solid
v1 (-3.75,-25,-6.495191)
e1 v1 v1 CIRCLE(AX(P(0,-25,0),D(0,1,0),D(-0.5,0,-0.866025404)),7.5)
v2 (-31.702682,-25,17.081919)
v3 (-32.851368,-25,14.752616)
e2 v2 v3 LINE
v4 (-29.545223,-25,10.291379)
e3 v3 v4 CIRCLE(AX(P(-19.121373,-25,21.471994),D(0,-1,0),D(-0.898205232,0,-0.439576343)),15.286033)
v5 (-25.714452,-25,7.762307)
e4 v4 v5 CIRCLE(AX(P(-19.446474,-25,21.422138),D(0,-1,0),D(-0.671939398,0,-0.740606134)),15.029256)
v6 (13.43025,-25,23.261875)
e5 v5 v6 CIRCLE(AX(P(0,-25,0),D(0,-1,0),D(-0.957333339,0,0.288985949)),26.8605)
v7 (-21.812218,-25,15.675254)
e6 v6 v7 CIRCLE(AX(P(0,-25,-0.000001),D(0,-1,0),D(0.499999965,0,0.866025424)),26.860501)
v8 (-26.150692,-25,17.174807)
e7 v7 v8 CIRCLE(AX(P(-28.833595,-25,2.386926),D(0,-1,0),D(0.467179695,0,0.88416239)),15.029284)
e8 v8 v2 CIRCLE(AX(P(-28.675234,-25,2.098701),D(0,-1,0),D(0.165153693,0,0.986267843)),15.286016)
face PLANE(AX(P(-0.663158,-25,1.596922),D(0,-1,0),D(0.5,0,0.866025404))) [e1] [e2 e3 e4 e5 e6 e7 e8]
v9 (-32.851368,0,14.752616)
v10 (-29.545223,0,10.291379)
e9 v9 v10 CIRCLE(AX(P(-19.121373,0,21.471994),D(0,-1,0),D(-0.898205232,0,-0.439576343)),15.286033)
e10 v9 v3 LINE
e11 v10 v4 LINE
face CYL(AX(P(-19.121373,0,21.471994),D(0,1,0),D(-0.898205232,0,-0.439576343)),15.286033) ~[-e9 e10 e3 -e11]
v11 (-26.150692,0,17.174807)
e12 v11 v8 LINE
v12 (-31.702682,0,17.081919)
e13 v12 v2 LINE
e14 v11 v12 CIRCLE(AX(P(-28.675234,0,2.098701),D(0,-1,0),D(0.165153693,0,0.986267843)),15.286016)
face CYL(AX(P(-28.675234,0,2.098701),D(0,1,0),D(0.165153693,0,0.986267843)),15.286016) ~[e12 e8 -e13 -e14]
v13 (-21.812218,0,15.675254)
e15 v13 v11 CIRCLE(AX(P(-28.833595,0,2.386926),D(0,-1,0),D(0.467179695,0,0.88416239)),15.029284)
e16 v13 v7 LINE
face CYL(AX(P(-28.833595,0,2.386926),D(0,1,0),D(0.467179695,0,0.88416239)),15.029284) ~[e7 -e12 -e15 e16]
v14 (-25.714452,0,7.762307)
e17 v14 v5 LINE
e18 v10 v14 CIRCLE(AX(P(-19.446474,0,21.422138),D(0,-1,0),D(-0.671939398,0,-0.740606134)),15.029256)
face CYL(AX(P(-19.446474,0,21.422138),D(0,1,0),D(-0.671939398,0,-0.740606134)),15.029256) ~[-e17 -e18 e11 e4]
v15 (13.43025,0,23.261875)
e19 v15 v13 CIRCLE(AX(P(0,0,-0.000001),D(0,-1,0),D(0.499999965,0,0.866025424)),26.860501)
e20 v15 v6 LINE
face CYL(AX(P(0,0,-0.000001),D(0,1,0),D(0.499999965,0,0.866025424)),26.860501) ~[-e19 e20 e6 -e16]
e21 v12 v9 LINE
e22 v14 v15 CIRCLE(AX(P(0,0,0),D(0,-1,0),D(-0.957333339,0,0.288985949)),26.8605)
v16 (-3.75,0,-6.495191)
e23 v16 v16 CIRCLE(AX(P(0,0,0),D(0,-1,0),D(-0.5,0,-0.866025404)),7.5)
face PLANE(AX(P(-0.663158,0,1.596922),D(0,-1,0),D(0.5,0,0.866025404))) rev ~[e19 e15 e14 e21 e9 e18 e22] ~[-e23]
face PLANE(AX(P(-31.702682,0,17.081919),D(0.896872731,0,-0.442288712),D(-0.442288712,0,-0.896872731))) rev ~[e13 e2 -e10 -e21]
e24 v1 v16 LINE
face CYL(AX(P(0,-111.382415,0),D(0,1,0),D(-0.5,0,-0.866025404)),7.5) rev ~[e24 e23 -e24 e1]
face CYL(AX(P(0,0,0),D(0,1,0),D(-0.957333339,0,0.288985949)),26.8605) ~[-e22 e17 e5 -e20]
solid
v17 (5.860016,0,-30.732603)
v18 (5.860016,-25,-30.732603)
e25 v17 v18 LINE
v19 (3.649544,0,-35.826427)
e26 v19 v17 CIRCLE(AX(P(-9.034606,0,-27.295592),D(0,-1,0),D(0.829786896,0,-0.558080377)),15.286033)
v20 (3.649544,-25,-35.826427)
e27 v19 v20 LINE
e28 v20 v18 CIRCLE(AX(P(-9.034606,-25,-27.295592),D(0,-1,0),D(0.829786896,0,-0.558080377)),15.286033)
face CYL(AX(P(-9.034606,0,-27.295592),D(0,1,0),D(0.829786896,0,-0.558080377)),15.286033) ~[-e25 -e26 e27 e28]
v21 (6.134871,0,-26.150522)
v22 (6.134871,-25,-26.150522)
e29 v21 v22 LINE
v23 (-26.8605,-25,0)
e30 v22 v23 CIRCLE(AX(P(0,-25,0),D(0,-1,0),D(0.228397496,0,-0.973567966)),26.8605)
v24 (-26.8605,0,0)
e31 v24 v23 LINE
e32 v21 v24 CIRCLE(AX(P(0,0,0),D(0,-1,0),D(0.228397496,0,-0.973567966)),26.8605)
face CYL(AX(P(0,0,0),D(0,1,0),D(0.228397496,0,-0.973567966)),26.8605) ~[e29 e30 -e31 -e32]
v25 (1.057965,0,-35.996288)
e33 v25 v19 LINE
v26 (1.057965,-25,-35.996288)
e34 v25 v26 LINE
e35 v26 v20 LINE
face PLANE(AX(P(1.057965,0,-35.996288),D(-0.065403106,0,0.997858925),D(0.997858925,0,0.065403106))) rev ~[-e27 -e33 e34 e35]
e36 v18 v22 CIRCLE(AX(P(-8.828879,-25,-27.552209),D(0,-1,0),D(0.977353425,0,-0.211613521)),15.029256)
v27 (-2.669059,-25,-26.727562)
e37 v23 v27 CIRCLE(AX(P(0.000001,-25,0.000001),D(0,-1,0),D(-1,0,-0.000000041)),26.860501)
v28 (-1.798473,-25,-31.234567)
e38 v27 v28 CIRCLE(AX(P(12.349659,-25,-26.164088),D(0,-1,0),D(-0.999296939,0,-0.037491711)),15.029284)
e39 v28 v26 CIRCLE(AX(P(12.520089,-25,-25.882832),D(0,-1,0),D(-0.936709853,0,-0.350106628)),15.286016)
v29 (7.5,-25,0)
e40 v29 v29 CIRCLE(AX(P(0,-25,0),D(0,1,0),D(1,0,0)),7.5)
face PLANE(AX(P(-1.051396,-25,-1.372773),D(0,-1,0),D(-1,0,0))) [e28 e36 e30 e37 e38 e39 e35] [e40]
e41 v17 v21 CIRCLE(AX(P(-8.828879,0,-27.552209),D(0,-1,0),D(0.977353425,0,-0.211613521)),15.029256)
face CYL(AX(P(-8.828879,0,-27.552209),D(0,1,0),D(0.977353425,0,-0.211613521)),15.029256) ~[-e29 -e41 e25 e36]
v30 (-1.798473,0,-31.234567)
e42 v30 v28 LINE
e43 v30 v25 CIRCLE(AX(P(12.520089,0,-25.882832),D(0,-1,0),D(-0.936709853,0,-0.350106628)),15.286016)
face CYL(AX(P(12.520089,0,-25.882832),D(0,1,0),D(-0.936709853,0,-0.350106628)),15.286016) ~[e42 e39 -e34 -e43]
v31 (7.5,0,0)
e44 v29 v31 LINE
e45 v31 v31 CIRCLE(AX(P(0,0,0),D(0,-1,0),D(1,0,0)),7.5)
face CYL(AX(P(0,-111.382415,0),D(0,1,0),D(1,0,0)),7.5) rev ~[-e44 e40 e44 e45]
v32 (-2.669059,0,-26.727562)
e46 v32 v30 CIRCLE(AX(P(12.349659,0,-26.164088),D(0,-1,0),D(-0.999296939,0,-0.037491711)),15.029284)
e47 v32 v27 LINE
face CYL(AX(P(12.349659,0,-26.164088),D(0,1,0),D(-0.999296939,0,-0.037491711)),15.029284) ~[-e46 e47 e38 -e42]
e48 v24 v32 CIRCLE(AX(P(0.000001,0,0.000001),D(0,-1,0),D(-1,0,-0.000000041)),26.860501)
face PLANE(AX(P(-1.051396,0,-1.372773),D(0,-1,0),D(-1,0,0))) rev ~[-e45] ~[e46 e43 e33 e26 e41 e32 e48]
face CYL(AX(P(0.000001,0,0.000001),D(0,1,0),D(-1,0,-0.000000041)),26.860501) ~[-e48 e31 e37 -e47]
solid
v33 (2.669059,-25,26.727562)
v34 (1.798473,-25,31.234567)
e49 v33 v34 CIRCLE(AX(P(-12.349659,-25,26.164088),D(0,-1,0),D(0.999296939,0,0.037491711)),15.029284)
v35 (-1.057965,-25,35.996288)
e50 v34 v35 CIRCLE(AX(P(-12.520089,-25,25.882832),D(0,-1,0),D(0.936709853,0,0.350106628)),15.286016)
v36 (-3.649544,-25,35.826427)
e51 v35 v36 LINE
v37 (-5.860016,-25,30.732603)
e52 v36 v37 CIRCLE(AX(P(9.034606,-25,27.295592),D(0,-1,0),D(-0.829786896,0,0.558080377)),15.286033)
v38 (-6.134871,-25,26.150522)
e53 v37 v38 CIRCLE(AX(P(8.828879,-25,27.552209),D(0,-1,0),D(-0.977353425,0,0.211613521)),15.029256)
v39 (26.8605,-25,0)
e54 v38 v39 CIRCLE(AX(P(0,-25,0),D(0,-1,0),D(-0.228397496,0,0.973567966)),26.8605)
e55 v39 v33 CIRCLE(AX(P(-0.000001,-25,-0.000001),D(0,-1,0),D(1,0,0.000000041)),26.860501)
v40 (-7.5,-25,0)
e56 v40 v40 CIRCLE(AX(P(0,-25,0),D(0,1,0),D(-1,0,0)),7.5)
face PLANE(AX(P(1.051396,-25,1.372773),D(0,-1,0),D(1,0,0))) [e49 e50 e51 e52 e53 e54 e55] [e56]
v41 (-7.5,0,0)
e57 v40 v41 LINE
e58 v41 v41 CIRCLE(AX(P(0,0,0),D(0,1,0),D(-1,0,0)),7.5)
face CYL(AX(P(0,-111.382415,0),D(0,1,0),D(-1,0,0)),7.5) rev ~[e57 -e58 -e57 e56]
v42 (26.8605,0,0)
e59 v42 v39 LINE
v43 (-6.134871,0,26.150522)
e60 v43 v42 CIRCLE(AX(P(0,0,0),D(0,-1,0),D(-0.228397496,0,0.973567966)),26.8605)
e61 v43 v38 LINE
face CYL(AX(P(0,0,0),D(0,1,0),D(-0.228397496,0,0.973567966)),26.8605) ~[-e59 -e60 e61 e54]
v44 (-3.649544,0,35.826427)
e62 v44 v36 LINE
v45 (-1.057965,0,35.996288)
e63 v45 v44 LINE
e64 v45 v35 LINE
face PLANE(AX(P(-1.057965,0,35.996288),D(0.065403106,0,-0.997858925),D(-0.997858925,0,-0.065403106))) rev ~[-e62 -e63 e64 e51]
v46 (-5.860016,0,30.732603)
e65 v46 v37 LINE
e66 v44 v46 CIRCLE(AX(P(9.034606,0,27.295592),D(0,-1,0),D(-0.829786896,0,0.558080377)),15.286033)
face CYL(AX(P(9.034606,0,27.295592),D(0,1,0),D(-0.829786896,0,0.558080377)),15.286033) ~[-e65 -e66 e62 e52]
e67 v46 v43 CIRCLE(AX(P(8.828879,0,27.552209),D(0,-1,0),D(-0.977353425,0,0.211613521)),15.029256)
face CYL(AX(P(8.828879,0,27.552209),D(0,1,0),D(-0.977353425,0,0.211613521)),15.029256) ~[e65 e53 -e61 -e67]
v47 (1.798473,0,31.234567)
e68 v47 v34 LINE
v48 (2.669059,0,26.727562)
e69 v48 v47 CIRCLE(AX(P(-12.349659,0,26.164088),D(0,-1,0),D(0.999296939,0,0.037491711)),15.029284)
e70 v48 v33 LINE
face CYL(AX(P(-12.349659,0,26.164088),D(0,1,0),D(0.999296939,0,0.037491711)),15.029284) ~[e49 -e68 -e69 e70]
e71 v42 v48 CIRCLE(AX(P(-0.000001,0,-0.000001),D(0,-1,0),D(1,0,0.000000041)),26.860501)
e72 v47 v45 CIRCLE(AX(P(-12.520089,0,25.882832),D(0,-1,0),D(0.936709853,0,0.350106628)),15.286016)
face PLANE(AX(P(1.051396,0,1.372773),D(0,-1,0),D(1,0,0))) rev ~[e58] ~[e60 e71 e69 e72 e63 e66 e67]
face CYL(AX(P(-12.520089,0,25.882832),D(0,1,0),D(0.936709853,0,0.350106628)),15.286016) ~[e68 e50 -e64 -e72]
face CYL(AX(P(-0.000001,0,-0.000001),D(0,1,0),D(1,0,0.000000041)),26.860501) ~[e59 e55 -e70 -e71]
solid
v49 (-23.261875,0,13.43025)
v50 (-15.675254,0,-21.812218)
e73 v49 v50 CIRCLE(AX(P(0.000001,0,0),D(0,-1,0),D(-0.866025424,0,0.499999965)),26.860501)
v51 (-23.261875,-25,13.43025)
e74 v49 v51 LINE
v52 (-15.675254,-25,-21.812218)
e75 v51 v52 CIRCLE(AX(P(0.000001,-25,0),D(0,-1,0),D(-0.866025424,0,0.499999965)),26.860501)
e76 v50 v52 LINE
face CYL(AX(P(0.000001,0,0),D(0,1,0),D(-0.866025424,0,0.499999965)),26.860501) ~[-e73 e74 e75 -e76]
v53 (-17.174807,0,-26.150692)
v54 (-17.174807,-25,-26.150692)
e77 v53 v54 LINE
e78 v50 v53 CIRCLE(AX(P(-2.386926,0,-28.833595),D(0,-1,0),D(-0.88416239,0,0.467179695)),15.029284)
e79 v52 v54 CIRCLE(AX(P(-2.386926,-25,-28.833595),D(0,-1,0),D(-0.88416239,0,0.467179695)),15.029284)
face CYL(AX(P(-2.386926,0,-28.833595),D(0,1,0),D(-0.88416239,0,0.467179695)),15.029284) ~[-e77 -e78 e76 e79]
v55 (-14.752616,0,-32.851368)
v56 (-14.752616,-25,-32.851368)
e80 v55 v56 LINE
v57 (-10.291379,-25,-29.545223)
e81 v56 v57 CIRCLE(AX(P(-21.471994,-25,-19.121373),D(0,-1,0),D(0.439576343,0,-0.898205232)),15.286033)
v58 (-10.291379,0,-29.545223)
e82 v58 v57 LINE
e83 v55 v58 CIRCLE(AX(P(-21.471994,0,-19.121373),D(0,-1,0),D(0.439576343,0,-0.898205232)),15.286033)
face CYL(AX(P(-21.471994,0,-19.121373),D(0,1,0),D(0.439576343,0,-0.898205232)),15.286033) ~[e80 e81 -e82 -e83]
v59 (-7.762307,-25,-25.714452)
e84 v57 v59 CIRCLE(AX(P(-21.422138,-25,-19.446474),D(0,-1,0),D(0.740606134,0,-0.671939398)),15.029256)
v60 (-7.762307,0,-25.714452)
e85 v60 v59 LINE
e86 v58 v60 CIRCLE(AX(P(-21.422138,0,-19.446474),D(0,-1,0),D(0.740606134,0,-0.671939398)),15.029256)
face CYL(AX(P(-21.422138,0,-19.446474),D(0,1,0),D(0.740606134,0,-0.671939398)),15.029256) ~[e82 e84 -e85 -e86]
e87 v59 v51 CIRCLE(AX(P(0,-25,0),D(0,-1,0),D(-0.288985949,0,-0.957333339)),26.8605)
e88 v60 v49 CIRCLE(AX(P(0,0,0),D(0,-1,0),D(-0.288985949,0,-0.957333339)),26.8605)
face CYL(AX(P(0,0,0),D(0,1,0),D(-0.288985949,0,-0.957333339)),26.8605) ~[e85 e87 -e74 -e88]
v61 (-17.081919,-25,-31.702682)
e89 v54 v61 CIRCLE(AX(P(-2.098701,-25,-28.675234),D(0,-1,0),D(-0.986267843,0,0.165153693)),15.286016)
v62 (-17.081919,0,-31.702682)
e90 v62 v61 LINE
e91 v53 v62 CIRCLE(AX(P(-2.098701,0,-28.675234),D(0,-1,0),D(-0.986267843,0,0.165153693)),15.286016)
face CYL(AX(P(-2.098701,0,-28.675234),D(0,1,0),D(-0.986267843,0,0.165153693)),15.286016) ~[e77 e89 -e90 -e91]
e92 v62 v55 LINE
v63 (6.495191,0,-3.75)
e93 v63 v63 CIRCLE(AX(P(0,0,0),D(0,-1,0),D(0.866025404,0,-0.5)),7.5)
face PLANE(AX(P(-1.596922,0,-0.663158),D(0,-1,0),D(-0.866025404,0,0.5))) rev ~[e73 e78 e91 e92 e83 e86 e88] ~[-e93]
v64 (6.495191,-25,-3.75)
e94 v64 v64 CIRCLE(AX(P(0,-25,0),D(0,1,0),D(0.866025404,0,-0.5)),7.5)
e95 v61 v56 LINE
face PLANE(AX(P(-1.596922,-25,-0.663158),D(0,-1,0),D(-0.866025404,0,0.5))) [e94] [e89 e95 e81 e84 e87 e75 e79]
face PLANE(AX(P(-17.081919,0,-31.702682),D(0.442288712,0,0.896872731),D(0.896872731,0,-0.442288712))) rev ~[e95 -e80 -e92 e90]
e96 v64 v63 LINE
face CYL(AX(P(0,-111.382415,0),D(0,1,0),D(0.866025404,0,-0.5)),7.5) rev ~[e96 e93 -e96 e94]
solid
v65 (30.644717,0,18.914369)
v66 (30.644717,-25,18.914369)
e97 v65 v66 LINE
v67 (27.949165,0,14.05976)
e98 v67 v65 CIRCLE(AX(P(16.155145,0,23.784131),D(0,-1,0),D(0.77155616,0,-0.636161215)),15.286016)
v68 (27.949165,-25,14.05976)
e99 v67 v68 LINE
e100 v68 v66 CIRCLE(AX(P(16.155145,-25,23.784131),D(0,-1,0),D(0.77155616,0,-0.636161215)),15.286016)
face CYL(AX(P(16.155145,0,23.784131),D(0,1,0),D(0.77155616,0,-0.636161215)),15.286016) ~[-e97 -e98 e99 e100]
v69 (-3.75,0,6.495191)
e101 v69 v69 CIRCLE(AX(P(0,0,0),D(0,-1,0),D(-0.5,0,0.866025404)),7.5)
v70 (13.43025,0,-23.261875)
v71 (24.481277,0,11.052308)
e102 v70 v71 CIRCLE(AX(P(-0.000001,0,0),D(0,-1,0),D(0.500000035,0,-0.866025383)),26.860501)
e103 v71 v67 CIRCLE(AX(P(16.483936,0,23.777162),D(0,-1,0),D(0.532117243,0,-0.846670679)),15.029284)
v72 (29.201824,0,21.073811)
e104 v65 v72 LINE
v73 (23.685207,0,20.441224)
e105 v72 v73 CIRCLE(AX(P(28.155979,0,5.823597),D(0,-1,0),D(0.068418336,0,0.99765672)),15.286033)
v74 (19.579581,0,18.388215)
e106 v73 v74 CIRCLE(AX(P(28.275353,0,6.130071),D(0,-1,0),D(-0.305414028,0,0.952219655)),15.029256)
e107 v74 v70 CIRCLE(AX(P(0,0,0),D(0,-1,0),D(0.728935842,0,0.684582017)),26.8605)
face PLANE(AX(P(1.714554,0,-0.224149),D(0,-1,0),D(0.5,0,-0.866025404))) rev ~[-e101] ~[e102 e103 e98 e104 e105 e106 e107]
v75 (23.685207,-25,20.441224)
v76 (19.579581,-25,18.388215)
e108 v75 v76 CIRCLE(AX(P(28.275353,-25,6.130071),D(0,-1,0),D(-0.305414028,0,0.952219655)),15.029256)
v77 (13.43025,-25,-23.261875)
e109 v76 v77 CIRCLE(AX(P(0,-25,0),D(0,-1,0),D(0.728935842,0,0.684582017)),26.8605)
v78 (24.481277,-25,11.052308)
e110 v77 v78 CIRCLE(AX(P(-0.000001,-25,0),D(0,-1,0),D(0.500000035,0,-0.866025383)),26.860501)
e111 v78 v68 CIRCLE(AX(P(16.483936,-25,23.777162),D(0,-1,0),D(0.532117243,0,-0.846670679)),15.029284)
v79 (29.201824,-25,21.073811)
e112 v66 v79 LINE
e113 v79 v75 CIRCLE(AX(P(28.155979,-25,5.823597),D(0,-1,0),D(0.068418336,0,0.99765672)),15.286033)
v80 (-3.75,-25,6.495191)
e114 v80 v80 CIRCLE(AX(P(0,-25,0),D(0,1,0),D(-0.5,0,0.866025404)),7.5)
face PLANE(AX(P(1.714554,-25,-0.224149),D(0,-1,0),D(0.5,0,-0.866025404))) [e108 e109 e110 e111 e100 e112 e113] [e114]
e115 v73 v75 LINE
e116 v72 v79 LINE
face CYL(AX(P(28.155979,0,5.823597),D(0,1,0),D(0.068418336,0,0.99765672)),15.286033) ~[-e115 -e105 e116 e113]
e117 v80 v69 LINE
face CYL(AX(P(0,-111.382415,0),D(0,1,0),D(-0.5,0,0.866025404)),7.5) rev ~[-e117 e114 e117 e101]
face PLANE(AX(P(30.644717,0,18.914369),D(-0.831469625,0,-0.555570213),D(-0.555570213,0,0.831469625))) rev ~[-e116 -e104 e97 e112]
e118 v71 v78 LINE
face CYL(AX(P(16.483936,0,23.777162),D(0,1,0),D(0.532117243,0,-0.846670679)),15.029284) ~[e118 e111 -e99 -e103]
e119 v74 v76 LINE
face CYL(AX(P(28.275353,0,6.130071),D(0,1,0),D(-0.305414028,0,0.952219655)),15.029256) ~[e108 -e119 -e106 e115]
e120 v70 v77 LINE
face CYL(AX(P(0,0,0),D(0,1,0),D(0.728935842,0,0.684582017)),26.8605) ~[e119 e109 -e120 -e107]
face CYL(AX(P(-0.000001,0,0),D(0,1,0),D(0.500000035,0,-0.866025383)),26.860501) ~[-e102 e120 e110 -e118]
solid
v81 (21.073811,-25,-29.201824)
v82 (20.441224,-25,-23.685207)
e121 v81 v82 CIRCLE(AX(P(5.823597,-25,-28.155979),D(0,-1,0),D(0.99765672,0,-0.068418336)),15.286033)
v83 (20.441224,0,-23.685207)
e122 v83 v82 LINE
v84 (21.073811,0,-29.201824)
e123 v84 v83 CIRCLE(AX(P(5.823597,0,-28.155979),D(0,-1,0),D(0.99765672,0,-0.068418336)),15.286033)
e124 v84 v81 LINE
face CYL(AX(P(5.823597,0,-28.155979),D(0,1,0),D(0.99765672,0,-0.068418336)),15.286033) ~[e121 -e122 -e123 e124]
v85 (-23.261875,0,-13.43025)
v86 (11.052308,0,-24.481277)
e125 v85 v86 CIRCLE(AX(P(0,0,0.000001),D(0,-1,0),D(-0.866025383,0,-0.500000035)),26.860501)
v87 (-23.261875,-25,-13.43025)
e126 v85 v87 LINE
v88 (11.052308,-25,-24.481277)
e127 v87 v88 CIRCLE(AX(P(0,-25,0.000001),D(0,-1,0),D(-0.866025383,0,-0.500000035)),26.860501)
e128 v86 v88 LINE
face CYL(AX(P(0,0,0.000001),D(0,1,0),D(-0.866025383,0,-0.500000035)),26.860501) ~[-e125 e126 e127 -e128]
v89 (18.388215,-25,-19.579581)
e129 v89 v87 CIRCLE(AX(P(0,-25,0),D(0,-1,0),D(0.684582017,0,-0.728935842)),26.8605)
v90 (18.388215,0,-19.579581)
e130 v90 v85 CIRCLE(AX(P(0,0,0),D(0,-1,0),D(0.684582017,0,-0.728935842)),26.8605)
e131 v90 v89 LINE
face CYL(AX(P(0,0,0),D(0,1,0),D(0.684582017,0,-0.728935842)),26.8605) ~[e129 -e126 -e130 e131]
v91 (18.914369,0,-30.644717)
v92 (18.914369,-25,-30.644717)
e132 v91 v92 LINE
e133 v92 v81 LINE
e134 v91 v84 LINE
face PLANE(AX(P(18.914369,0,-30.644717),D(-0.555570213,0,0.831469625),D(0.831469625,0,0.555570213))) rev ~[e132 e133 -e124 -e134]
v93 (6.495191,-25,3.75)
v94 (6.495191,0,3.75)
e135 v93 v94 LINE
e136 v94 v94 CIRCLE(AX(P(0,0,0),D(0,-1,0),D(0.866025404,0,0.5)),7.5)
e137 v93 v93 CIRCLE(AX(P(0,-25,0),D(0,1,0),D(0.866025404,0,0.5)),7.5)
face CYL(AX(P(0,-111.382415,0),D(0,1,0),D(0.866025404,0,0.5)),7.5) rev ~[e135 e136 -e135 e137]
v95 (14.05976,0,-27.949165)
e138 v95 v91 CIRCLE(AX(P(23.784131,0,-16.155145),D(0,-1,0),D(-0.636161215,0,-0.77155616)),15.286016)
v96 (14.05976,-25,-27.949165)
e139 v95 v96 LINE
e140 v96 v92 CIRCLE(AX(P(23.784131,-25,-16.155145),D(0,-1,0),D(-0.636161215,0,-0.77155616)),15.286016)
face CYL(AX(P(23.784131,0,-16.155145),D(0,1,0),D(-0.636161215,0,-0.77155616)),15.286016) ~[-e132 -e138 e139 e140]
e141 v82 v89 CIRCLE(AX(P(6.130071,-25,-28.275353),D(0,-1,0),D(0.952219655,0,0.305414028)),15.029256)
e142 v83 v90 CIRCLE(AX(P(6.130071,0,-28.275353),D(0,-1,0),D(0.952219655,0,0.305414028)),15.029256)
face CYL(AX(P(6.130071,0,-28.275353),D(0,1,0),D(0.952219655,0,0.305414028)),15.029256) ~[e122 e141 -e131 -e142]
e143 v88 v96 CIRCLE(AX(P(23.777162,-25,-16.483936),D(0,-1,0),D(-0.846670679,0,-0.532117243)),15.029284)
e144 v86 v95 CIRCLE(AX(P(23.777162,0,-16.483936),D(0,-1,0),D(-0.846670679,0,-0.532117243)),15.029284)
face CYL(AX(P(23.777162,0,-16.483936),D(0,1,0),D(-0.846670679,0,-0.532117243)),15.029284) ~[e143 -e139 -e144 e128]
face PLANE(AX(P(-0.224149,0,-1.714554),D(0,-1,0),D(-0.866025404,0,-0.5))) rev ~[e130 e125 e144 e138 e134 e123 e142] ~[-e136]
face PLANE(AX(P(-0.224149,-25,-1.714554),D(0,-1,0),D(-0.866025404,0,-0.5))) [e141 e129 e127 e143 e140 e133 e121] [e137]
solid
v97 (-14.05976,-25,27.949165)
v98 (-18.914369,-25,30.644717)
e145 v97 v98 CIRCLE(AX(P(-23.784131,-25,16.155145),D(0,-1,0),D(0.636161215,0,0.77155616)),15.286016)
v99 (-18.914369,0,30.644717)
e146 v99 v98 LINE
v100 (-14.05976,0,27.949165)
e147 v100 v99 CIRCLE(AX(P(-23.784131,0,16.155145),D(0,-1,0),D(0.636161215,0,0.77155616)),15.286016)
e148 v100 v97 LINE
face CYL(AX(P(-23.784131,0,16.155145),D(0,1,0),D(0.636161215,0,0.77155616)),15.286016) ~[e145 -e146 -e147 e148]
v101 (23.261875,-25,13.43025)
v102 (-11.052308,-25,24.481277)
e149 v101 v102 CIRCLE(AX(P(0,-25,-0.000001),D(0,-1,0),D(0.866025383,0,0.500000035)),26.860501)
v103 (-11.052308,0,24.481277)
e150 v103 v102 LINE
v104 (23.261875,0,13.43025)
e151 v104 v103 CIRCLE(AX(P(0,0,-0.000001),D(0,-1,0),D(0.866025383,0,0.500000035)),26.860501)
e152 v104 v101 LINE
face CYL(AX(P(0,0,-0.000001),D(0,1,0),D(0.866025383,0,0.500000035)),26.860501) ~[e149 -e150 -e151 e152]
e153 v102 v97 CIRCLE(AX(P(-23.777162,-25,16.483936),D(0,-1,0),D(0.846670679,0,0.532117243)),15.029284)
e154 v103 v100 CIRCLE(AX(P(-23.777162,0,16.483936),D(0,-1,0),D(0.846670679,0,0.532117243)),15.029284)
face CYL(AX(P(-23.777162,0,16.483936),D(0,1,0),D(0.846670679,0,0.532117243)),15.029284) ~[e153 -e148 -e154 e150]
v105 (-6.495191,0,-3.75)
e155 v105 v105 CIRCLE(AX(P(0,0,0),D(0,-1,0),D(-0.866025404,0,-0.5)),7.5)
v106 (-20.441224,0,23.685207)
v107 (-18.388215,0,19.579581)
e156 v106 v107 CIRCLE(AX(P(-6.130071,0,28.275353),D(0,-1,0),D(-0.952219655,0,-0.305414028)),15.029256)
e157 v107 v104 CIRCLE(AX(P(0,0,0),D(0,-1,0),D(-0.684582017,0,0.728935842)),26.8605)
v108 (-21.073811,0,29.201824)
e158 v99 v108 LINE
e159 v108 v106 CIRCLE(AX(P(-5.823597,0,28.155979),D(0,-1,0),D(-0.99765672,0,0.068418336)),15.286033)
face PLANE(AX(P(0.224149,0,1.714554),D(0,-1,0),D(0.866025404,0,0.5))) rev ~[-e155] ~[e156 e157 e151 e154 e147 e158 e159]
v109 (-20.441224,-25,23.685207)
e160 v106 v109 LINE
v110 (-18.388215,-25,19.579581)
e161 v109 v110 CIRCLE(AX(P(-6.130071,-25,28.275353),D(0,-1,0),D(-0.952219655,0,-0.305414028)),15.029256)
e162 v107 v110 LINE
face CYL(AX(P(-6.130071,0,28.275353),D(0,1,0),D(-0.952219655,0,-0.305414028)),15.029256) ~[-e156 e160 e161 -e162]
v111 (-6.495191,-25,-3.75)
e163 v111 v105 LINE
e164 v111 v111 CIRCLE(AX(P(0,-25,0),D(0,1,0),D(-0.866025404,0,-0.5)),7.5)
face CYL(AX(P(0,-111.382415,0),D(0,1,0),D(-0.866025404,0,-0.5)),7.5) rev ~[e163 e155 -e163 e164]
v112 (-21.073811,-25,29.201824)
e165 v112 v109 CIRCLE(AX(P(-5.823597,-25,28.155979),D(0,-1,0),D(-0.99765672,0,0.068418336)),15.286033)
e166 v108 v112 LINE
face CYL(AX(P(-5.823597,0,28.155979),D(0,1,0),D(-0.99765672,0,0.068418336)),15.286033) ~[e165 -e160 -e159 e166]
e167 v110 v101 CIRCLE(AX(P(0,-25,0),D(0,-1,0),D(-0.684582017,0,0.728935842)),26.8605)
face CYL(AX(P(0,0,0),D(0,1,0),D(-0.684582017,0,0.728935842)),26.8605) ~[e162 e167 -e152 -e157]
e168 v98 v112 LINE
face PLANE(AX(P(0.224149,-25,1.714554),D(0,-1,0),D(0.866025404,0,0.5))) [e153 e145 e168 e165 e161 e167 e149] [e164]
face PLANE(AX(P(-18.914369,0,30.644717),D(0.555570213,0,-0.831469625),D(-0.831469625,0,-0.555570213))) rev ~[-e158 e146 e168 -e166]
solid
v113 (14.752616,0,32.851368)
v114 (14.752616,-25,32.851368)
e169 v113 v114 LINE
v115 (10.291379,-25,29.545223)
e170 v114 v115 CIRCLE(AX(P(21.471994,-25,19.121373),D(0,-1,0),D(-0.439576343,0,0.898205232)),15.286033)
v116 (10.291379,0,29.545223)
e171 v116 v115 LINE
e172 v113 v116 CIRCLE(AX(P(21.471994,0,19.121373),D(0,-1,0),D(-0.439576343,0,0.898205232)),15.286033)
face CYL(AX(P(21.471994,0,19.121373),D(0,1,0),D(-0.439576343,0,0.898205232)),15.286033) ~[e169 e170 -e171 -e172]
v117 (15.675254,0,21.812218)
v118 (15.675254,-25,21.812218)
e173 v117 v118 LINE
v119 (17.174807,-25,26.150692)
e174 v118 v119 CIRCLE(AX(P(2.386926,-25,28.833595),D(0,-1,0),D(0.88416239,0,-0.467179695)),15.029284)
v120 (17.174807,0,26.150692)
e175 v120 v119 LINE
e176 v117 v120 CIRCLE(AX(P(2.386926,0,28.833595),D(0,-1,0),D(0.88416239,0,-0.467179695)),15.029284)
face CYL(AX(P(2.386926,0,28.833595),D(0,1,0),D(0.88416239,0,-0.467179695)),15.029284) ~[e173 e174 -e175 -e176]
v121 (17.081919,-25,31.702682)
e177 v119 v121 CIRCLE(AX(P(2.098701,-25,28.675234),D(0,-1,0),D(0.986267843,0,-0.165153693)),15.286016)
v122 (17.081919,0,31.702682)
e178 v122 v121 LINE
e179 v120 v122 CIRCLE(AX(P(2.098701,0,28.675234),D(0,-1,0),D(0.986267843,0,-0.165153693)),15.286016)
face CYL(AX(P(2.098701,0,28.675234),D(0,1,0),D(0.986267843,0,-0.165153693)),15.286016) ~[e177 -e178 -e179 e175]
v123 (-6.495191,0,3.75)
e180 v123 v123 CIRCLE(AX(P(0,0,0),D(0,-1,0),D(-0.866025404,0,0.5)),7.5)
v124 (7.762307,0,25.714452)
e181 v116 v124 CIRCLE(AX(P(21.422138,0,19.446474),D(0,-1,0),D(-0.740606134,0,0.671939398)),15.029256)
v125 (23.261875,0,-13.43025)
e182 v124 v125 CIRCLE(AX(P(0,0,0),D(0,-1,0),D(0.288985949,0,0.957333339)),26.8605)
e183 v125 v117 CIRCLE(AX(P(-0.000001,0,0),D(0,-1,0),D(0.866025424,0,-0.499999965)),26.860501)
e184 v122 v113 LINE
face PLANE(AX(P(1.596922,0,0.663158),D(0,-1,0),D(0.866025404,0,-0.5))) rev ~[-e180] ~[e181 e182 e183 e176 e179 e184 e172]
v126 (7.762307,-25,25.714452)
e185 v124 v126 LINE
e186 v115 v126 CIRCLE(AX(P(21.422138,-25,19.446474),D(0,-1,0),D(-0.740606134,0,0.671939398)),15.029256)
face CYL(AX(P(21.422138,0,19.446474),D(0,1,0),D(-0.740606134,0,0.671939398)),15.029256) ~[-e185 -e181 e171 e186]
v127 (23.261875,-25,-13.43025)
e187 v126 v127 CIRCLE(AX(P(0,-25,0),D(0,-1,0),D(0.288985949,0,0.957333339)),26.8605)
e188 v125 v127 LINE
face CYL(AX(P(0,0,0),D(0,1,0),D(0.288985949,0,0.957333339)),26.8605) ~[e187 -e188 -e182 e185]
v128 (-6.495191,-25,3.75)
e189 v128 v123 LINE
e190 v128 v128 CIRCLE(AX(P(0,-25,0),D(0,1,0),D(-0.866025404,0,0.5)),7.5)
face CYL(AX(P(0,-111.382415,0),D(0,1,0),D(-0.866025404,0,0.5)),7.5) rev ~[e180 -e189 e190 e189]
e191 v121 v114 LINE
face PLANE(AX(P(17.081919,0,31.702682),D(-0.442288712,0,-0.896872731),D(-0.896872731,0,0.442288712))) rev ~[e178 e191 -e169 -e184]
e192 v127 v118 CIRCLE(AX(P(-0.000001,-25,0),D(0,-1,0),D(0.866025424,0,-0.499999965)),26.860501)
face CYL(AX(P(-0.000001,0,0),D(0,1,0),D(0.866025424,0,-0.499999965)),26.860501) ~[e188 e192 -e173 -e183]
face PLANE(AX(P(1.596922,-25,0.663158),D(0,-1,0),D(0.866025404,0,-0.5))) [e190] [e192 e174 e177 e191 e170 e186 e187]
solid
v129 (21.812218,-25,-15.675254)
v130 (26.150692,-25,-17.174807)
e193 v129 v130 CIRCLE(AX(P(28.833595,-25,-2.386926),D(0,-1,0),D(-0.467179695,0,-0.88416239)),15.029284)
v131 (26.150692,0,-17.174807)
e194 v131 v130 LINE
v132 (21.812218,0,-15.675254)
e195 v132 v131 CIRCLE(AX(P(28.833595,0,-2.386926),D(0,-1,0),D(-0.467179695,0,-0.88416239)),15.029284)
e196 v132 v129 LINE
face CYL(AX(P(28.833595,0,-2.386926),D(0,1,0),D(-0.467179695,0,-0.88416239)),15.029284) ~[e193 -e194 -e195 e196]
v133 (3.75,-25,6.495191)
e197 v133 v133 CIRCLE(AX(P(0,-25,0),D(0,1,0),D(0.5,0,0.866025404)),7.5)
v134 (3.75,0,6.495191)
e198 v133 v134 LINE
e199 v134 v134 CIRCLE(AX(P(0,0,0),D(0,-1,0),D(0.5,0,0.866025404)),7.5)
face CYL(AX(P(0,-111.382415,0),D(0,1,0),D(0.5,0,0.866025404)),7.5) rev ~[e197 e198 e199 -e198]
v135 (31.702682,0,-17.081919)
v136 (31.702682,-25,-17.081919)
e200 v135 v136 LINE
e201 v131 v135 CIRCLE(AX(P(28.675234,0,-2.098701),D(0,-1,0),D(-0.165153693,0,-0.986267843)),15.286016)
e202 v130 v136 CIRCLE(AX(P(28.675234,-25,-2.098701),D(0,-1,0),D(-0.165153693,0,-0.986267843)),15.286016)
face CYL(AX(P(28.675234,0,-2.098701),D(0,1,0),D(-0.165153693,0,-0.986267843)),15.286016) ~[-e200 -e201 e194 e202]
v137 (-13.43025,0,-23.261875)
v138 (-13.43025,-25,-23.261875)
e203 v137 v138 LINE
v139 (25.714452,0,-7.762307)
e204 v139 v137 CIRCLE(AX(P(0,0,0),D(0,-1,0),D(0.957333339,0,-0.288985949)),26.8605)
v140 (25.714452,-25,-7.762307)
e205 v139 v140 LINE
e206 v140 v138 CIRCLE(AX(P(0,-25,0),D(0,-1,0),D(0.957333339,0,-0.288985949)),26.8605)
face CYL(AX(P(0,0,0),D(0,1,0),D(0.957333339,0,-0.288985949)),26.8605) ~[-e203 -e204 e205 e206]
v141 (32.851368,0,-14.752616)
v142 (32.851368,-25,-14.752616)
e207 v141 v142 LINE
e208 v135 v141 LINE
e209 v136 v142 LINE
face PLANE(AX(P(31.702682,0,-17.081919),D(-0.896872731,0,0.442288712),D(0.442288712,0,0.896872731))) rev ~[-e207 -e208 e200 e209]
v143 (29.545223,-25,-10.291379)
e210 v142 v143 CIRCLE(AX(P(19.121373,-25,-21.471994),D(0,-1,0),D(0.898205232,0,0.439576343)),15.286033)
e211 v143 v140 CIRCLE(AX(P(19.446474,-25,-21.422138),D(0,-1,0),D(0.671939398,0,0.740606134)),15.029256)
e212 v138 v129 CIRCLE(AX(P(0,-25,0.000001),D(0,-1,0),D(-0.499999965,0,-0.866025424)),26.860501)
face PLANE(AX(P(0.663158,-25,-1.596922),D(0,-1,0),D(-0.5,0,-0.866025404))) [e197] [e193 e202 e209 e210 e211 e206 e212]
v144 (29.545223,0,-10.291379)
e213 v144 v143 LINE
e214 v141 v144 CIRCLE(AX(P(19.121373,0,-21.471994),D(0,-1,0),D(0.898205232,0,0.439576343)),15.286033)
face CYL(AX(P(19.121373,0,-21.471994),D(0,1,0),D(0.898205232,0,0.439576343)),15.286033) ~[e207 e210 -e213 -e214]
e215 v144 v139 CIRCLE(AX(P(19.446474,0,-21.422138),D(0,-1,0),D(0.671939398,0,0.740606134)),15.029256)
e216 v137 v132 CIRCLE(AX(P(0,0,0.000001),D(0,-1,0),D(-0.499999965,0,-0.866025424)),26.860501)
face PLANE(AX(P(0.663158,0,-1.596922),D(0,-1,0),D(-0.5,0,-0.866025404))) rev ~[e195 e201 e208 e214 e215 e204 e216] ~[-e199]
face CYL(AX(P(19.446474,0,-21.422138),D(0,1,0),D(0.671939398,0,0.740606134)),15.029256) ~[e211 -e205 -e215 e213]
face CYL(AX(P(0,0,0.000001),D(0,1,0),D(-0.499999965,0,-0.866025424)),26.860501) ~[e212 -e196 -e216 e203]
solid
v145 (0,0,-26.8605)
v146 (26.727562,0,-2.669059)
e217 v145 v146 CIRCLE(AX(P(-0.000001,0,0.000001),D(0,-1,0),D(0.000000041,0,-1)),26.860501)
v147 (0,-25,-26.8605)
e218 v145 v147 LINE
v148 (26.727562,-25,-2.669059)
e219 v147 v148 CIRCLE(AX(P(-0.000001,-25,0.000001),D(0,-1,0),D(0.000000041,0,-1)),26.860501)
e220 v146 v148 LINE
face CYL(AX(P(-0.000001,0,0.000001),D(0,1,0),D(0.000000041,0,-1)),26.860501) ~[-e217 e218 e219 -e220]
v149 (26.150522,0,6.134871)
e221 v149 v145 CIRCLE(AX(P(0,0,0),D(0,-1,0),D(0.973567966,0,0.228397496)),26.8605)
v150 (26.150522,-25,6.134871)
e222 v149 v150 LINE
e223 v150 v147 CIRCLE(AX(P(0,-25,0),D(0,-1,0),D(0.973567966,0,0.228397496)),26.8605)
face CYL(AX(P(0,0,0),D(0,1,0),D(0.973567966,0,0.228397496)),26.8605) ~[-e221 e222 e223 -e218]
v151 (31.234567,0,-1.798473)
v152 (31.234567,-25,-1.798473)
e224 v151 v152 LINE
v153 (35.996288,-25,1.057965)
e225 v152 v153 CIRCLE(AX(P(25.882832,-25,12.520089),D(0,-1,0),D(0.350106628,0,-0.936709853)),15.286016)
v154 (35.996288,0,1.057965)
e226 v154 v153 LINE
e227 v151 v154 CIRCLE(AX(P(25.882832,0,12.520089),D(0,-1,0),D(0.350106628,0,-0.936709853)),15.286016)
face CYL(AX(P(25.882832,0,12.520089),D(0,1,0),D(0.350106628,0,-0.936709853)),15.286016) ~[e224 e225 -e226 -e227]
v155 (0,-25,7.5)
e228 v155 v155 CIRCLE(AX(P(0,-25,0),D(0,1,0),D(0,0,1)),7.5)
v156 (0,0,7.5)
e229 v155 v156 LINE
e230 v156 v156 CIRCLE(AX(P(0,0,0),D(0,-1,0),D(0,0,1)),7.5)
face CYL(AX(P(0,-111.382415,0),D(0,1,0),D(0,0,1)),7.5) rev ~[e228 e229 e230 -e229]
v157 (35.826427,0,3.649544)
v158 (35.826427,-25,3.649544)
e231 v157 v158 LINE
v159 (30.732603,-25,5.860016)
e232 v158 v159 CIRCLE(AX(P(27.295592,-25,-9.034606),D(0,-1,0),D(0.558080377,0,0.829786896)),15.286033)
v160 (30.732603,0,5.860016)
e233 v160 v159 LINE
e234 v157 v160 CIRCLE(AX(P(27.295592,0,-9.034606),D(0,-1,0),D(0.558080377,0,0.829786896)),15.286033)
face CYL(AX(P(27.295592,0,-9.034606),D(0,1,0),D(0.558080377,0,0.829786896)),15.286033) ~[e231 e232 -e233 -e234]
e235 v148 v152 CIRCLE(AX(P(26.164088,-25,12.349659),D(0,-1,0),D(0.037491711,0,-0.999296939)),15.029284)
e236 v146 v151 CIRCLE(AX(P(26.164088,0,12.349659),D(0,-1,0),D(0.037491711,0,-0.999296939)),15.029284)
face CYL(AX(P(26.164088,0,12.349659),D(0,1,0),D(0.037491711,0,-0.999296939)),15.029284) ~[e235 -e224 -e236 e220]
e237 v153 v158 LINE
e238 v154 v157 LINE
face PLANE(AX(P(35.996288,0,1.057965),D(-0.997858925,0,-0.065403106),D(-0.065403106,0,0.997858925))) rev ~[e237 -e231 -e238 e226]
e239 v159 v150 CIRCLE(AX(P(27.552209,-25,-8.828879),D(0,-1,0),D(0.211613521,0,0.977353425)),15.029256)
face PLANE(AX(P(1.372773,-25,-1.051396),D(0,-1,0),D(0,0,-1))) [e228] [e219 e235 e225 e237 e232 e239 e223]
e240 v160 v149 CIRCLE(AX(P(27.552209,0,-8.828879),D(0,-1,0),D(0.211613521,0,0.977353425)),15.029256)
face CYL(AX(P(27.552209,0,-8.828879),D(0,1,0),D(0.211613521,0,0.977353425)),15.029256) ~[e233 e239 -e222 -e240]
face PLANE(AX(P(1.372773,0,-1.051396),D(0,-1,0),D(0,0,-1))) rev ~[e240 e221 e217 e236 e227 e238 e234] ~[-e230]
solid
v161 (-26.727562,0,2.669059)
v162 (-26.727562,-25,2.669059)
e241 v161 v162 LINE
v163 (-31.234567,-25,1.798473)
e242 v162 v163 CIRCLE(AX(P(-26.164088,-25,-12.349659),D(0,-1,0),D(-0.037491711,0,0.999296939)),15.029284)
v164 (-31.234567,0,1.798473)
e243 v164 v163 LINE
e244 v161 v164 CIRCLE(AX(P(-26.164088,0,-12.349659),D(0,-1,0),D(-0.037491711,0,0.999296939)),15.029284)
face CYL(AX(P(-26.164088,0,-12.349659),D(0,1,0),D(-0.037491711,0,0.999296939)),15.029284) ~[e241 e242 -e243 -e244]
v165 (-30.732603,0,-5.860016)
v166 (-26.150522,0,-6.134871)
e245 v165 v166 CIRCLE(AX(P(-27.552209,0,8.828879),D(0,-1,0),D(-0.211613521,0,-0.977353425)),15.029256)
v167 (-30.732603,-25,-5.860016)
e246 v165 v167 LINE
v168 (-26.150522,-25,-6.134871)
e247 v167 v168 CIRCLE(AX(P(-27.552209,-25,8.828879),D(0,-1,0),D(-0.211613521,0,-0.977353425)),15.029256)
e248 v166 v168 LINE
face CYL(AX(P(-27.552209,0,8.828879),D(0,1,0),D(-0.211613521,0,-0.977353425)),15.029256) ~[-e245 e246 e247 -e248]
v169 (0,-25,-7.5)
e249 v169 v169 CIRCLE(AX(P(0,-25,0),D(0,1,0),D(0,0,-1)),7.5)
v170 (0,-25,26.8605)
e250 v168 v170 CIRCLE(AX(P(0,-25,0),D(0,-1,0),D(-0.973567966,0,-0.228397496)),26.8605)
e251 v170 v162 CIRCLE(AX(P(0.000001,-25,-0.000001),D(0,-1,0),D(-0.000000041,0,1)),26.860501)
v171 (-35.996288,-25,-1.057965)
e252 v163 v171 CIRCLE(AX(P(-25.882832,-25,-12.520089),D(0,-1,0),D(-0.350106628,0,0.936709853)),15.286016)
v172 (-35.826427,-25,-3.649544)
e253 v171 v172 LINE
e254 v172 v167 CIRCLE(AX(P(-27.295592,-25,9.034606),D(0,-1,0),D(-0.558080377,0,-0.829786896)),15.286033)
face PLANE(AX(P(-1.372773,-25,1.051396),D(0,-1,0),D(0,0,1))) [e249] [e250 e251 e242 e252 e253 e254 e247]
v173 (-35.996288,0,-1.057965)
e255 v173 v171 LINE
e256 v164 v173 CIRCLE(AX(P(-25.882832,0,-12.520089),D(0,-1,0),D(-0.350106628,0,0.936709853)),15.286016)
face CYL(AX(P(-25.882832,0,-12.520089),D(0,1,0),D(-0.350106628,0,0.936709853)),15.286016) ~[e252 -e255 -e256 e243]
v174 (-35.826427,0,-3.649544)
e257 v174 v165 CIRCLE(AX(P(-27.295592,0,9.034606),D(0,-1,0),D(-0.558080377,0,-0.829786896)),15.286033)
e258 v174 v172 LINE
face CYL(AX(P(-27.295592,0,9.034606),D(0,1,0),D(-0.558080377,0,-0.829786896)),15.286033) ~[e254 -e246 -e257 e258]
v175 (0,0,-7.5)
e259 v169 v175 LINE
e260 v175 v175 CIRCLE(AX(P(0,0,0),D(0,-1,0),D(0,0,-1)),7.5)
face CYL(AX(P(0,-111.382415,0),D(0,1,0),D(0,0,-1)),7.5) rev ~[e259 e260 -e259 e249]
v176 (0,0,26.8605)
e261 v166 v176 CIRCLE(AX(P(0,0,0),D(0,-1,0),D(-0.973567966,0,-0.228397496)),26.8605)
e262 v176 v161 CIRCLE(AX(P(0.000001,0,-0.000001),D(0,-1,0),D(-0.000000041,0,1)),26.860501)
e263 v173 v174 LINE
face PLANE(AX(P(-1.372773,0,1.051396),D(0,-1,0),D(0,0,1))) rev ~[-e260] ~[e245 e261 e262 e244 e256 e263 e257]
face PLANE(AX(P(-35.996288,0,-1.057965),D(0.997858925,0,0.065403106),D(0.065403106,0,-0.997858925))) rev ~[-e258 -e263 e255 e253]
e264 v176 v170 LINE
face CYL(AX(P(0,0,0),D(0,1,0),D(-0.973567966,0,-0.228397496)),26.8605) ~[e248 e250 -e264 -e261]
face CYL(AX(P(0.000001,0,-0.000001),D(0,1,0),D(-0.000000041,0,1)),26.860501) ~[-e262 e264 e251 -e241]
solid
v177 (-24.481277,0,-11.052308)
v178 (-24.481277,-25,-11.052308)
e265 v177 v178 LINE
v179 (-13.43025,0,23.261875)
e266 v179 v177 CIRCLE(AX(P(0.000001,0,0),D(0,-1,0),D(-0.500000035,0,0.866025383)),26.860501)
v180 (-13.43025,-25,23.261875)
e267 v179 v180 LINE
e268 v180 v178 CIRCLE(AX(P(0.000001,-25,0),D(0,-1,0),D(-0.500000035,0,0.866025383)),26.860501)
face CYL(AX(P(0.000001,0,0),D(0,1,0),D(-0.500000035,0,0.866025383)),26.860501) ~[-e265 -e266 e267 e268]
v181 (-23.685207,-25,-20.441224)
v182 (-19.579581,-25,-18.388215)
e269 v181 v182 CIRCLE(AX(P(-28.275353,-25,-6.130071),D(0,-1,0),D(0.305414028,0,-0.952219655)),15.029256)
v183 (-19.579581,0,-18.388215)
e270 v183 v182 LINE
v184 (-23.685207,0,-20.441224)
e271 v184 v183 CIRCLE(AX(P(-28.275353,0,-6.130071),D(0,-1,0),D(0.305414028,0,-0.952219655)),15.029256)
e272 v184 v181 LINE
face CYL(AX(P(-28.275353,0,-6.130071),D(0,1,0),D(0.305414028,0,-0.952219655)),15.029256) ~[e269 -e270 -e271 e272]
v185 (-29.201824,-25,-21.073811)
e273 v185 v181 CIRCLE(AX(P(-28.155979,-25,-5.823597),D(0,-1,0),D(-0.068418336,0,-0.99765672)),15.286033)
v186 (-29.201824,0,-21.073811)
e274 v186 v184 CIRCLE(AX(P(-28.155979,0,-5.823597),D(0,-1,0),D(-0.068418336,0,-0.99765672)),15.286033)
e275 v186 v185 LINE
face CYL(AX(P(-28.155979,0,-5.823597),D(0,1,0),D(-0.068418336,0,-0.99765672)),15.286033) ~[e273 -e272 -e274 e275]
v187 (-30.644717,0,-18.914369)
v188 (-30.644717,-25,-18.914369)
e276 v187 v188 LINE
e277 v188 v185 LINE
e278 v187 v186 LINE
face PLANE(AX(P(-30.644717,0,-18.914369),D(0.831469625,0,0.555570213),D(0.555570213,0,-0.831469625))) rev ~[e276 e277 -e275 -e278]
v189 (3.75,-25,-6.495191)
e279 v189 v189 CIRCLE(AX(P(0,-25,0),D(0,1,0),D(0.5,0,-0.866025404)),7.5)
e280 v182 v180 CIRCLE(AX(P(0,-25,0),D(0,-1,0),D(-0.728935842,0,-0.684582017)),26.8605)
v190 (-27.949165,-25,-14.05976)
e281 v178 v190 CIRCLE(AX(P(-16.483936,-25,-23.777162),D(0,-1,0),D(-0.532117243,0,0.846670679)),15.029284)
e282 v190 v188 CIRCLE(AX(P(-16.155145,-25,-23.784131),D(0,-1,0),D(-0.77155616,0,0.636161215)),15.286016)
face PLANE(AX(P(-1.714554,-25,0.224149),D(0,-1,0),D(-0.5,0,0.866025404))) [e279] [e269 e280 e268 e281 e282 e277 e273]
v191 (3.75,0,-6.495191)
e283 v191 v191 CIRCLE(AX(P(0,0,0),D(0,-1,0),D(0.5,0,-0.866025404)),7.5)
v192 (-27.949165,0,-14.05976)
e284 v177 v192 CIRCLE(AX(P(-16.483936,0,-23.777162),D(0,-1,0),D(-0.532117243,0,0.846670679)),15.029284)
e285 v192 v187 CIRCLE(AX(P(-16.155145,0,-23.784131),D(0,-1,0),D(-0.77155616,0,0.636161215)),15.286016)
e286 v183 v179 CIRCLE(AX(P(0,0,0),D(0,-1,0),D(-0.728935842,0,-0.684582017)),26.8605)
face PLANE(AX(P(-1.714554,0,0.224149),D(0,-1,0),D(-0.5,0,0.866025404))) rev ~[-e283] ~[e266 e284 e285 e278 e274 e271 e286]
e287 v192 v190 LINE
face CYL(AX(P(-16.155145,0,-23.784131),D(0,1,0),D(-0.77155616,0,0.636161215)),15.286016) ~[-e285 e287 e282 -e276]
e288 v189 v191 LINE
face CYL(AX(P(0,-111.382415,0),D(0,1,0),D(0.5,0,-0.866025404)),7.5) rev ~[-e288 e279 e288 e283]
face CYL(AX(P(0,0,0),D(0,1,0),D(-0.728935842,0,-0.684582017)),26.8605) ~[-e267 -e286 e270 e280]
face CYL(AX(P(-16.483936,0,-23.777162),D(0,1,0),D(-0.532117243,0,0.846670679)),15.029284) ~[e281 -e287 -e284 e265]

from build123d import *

# Parameters (mm, degrees)
F1_DEPTH = 25
F2_COUNT = 12
F4_D     = 15
F4_2_D   = 15
F4_3_D   = 15
F4_4_D   = 15
F4_5_D   = 15
F4_6_D   = 15
F4_7_D   = 15
F4_8_D   = 15
F4_9_D   = 15
F4_10_D  = 15
F4_11_D  = 15
F4_12_D  = 15


with BuildPart() as f1:
    # F0 (on Front) → F1 (new body)
    with BuildSketch(Plane.XZ):
        with BuildLine():
            ThreePointArc((-6.134871, 26.150522), (-16.683836, -21.050798), (26.8605, 0))
            ThreePointArc((26.8605, 0), (19.914551, 18.024902), (2.669059, 26.727562))
            ThreePointArc((2.669059, 26.727562), (-1.756761, 26.80299), (-6.134871, 26.150522))
        make_face()
        with BuildLine():
            ThreePointArc((-6.134871, 26.150522), (-1.756761, 26.80299), (2.669059, 26.727562))
            ThreePointArc((2.669059, 26.727562), (2.40685, 29.014498), (1.798473, 31.234567))
            ThreePointArc((1.798473, 31.234567), (0.588284, 33.746218), (-1.057965, 35.996288))
            Line((-1.057965, 35.996288), (-3.649544, 35.826427))
            ThreePointArc((-3.649544, 35.826427), (-4.988016, 33.380728), (-5.860016, 30.732603))
            ThreePointArc((-5.860016, 30.732603), (-6.173411, 28.452118), (-6.134871, 26.150522))
        make_face()
    extrude(amount=F1_DEPTH)

    # F4 (through all)
    with Locations(Plane.XZ.offset(25)):
        with Locations((0, 0)):
            Hole(F4_D / 2)


with BuildPart() as f2_1:
    # F2: instance of F1
    add(f1.part.rotate(Axis((0, 0, 0), (0, 1, 0)), 1 * 360 / F2_COUNT))

    # F4#2 (through all)
    with Locations(Plane.XZ.offset(25)):
        with Locations((0, 0)):
            Hole(F4_2_D / 2)


with BuildPart() as f2_2:
    # F2: instance of F1
    add(f1.part.rotate(Axis((0, 0, 0), (0, 1, 0)), 2 * 360 / F2_COUNT))

    # F4#3 (through all)
    with Locations(Plane.XZ.offset(25)):
        with Locations((0, 0)):
            Hole(F4_3_D / 2)


with BuildPart() as f2_3:
    # F2: instance of F1
    add(f1.part.rotate(Axis((0, 0, 0), (0, 1, 0)), 3 * 360 / F2_COUNT))

    # F4#4 (through all)
    with Locations(Plane.XZ.offset(25)):
        with Locations((0, 0)):
            Hole(F4_4_D / 2)


with BuildPart() as f2_4:
    # F2: instance of F1
    add(f1.part.rotate(Axis((0, 0, 0), (0, 1, 0)), 4 * 360 / F2_COUNT))

    # F4#5 (through all)
    with Locations(Plane.XZ.offset(25)):
        with Locations((0, 0)):
            Hole(F4_5_D / 2)


with BuildPart() as f2_5:
    # F2: instance of F1
    add(f1.part.rotate(Axis((0, 0, 0), (0, 1, 0)), 5 * 360 / F2_COUNT))

    # F4#6 (through all)
    with Locations(Plane.XZ.offset(25)):
        with Locations((0, 0)):
            Hole(F4_6_D / 2)


with BuildPart() as f2_6:
    # F2: instance of F1
    add(f1.part.rotate(Axis((0, 0, 0), (0, 1, 0)), 6 * 360 / F2_COUNT))

    # F4#7 (through all)
    with Locations(Plane.XZ.offset(25)):
        with Locations((0, 0)):
            Hole(F4_7_D / 2)


with BuildPart() as f2_7:
    # F2: instance of F1
    add(f1.part.rotate(Axis((0, 0, 0), (0, 1, 0)), 7 * 360 / F2_COUNT))

    # F4#8 (through all)
    with Locations(Plane.XZ.offset(25)):
        with Locations((0, 0)):
            Hole(F4_8_D / 2)


with BuildPart() as f2_8:
    # F2: instance of F1
    add(f1.part.rotate(Axis((0, 0, 0), (0, 1, 0)), 8 * 360 / F2_COUNT))

    # F4#9 (through all)
    with Locations(Plane.XZ.offset(25)):
        with Locations((0, 0)):
            Hole(F4_9_D / 2)


with BuildPart() as f2_9:
    # F2: instance of F1
    add(f1.part.rotate(Axis((0, 0, 0), (0, 1, 0)), 9 * 360 / F2_COUNT))

    # F4#10 (through all)
    with Locations(Plane.XZ.offset(25)):
        with Locations((0, 0)):
            Hole(F4_10_D / 2)


with BuildPart() as f2_10:
    # F2: instance of F1
    add(f1.part.rotate(Axis((0, 0, 0), (0, 1, 0)), 10 * 360 / F2_COUNT))

    # F4#11 (through all)
    with Locations(Plane.XZ.offset(25)):
        with Locations((0, 0)):
            Hole(F4_11_D / 2)


with BuildPart() as f2_11:
    # F2: instance of F1
    add(f1.part.rotate(Axis((0, 0, 0), (0, 1, 0)), 11 * 360 / F2_COUNT))

    # F4#12 (through all)
    with Locations(Plane.XZ.offset(25)):
        with Locations((0, 0)):
            Hole(F4_12_D / 2)


solid = Compound([f1.part, f2_1.part, f2_2.part, f2_3.part, f2_4.part, f2_5.part, f2_6.part, f2_7.part, f2_8.part, f2_9.part, f2_10.part, f2_11.part])
